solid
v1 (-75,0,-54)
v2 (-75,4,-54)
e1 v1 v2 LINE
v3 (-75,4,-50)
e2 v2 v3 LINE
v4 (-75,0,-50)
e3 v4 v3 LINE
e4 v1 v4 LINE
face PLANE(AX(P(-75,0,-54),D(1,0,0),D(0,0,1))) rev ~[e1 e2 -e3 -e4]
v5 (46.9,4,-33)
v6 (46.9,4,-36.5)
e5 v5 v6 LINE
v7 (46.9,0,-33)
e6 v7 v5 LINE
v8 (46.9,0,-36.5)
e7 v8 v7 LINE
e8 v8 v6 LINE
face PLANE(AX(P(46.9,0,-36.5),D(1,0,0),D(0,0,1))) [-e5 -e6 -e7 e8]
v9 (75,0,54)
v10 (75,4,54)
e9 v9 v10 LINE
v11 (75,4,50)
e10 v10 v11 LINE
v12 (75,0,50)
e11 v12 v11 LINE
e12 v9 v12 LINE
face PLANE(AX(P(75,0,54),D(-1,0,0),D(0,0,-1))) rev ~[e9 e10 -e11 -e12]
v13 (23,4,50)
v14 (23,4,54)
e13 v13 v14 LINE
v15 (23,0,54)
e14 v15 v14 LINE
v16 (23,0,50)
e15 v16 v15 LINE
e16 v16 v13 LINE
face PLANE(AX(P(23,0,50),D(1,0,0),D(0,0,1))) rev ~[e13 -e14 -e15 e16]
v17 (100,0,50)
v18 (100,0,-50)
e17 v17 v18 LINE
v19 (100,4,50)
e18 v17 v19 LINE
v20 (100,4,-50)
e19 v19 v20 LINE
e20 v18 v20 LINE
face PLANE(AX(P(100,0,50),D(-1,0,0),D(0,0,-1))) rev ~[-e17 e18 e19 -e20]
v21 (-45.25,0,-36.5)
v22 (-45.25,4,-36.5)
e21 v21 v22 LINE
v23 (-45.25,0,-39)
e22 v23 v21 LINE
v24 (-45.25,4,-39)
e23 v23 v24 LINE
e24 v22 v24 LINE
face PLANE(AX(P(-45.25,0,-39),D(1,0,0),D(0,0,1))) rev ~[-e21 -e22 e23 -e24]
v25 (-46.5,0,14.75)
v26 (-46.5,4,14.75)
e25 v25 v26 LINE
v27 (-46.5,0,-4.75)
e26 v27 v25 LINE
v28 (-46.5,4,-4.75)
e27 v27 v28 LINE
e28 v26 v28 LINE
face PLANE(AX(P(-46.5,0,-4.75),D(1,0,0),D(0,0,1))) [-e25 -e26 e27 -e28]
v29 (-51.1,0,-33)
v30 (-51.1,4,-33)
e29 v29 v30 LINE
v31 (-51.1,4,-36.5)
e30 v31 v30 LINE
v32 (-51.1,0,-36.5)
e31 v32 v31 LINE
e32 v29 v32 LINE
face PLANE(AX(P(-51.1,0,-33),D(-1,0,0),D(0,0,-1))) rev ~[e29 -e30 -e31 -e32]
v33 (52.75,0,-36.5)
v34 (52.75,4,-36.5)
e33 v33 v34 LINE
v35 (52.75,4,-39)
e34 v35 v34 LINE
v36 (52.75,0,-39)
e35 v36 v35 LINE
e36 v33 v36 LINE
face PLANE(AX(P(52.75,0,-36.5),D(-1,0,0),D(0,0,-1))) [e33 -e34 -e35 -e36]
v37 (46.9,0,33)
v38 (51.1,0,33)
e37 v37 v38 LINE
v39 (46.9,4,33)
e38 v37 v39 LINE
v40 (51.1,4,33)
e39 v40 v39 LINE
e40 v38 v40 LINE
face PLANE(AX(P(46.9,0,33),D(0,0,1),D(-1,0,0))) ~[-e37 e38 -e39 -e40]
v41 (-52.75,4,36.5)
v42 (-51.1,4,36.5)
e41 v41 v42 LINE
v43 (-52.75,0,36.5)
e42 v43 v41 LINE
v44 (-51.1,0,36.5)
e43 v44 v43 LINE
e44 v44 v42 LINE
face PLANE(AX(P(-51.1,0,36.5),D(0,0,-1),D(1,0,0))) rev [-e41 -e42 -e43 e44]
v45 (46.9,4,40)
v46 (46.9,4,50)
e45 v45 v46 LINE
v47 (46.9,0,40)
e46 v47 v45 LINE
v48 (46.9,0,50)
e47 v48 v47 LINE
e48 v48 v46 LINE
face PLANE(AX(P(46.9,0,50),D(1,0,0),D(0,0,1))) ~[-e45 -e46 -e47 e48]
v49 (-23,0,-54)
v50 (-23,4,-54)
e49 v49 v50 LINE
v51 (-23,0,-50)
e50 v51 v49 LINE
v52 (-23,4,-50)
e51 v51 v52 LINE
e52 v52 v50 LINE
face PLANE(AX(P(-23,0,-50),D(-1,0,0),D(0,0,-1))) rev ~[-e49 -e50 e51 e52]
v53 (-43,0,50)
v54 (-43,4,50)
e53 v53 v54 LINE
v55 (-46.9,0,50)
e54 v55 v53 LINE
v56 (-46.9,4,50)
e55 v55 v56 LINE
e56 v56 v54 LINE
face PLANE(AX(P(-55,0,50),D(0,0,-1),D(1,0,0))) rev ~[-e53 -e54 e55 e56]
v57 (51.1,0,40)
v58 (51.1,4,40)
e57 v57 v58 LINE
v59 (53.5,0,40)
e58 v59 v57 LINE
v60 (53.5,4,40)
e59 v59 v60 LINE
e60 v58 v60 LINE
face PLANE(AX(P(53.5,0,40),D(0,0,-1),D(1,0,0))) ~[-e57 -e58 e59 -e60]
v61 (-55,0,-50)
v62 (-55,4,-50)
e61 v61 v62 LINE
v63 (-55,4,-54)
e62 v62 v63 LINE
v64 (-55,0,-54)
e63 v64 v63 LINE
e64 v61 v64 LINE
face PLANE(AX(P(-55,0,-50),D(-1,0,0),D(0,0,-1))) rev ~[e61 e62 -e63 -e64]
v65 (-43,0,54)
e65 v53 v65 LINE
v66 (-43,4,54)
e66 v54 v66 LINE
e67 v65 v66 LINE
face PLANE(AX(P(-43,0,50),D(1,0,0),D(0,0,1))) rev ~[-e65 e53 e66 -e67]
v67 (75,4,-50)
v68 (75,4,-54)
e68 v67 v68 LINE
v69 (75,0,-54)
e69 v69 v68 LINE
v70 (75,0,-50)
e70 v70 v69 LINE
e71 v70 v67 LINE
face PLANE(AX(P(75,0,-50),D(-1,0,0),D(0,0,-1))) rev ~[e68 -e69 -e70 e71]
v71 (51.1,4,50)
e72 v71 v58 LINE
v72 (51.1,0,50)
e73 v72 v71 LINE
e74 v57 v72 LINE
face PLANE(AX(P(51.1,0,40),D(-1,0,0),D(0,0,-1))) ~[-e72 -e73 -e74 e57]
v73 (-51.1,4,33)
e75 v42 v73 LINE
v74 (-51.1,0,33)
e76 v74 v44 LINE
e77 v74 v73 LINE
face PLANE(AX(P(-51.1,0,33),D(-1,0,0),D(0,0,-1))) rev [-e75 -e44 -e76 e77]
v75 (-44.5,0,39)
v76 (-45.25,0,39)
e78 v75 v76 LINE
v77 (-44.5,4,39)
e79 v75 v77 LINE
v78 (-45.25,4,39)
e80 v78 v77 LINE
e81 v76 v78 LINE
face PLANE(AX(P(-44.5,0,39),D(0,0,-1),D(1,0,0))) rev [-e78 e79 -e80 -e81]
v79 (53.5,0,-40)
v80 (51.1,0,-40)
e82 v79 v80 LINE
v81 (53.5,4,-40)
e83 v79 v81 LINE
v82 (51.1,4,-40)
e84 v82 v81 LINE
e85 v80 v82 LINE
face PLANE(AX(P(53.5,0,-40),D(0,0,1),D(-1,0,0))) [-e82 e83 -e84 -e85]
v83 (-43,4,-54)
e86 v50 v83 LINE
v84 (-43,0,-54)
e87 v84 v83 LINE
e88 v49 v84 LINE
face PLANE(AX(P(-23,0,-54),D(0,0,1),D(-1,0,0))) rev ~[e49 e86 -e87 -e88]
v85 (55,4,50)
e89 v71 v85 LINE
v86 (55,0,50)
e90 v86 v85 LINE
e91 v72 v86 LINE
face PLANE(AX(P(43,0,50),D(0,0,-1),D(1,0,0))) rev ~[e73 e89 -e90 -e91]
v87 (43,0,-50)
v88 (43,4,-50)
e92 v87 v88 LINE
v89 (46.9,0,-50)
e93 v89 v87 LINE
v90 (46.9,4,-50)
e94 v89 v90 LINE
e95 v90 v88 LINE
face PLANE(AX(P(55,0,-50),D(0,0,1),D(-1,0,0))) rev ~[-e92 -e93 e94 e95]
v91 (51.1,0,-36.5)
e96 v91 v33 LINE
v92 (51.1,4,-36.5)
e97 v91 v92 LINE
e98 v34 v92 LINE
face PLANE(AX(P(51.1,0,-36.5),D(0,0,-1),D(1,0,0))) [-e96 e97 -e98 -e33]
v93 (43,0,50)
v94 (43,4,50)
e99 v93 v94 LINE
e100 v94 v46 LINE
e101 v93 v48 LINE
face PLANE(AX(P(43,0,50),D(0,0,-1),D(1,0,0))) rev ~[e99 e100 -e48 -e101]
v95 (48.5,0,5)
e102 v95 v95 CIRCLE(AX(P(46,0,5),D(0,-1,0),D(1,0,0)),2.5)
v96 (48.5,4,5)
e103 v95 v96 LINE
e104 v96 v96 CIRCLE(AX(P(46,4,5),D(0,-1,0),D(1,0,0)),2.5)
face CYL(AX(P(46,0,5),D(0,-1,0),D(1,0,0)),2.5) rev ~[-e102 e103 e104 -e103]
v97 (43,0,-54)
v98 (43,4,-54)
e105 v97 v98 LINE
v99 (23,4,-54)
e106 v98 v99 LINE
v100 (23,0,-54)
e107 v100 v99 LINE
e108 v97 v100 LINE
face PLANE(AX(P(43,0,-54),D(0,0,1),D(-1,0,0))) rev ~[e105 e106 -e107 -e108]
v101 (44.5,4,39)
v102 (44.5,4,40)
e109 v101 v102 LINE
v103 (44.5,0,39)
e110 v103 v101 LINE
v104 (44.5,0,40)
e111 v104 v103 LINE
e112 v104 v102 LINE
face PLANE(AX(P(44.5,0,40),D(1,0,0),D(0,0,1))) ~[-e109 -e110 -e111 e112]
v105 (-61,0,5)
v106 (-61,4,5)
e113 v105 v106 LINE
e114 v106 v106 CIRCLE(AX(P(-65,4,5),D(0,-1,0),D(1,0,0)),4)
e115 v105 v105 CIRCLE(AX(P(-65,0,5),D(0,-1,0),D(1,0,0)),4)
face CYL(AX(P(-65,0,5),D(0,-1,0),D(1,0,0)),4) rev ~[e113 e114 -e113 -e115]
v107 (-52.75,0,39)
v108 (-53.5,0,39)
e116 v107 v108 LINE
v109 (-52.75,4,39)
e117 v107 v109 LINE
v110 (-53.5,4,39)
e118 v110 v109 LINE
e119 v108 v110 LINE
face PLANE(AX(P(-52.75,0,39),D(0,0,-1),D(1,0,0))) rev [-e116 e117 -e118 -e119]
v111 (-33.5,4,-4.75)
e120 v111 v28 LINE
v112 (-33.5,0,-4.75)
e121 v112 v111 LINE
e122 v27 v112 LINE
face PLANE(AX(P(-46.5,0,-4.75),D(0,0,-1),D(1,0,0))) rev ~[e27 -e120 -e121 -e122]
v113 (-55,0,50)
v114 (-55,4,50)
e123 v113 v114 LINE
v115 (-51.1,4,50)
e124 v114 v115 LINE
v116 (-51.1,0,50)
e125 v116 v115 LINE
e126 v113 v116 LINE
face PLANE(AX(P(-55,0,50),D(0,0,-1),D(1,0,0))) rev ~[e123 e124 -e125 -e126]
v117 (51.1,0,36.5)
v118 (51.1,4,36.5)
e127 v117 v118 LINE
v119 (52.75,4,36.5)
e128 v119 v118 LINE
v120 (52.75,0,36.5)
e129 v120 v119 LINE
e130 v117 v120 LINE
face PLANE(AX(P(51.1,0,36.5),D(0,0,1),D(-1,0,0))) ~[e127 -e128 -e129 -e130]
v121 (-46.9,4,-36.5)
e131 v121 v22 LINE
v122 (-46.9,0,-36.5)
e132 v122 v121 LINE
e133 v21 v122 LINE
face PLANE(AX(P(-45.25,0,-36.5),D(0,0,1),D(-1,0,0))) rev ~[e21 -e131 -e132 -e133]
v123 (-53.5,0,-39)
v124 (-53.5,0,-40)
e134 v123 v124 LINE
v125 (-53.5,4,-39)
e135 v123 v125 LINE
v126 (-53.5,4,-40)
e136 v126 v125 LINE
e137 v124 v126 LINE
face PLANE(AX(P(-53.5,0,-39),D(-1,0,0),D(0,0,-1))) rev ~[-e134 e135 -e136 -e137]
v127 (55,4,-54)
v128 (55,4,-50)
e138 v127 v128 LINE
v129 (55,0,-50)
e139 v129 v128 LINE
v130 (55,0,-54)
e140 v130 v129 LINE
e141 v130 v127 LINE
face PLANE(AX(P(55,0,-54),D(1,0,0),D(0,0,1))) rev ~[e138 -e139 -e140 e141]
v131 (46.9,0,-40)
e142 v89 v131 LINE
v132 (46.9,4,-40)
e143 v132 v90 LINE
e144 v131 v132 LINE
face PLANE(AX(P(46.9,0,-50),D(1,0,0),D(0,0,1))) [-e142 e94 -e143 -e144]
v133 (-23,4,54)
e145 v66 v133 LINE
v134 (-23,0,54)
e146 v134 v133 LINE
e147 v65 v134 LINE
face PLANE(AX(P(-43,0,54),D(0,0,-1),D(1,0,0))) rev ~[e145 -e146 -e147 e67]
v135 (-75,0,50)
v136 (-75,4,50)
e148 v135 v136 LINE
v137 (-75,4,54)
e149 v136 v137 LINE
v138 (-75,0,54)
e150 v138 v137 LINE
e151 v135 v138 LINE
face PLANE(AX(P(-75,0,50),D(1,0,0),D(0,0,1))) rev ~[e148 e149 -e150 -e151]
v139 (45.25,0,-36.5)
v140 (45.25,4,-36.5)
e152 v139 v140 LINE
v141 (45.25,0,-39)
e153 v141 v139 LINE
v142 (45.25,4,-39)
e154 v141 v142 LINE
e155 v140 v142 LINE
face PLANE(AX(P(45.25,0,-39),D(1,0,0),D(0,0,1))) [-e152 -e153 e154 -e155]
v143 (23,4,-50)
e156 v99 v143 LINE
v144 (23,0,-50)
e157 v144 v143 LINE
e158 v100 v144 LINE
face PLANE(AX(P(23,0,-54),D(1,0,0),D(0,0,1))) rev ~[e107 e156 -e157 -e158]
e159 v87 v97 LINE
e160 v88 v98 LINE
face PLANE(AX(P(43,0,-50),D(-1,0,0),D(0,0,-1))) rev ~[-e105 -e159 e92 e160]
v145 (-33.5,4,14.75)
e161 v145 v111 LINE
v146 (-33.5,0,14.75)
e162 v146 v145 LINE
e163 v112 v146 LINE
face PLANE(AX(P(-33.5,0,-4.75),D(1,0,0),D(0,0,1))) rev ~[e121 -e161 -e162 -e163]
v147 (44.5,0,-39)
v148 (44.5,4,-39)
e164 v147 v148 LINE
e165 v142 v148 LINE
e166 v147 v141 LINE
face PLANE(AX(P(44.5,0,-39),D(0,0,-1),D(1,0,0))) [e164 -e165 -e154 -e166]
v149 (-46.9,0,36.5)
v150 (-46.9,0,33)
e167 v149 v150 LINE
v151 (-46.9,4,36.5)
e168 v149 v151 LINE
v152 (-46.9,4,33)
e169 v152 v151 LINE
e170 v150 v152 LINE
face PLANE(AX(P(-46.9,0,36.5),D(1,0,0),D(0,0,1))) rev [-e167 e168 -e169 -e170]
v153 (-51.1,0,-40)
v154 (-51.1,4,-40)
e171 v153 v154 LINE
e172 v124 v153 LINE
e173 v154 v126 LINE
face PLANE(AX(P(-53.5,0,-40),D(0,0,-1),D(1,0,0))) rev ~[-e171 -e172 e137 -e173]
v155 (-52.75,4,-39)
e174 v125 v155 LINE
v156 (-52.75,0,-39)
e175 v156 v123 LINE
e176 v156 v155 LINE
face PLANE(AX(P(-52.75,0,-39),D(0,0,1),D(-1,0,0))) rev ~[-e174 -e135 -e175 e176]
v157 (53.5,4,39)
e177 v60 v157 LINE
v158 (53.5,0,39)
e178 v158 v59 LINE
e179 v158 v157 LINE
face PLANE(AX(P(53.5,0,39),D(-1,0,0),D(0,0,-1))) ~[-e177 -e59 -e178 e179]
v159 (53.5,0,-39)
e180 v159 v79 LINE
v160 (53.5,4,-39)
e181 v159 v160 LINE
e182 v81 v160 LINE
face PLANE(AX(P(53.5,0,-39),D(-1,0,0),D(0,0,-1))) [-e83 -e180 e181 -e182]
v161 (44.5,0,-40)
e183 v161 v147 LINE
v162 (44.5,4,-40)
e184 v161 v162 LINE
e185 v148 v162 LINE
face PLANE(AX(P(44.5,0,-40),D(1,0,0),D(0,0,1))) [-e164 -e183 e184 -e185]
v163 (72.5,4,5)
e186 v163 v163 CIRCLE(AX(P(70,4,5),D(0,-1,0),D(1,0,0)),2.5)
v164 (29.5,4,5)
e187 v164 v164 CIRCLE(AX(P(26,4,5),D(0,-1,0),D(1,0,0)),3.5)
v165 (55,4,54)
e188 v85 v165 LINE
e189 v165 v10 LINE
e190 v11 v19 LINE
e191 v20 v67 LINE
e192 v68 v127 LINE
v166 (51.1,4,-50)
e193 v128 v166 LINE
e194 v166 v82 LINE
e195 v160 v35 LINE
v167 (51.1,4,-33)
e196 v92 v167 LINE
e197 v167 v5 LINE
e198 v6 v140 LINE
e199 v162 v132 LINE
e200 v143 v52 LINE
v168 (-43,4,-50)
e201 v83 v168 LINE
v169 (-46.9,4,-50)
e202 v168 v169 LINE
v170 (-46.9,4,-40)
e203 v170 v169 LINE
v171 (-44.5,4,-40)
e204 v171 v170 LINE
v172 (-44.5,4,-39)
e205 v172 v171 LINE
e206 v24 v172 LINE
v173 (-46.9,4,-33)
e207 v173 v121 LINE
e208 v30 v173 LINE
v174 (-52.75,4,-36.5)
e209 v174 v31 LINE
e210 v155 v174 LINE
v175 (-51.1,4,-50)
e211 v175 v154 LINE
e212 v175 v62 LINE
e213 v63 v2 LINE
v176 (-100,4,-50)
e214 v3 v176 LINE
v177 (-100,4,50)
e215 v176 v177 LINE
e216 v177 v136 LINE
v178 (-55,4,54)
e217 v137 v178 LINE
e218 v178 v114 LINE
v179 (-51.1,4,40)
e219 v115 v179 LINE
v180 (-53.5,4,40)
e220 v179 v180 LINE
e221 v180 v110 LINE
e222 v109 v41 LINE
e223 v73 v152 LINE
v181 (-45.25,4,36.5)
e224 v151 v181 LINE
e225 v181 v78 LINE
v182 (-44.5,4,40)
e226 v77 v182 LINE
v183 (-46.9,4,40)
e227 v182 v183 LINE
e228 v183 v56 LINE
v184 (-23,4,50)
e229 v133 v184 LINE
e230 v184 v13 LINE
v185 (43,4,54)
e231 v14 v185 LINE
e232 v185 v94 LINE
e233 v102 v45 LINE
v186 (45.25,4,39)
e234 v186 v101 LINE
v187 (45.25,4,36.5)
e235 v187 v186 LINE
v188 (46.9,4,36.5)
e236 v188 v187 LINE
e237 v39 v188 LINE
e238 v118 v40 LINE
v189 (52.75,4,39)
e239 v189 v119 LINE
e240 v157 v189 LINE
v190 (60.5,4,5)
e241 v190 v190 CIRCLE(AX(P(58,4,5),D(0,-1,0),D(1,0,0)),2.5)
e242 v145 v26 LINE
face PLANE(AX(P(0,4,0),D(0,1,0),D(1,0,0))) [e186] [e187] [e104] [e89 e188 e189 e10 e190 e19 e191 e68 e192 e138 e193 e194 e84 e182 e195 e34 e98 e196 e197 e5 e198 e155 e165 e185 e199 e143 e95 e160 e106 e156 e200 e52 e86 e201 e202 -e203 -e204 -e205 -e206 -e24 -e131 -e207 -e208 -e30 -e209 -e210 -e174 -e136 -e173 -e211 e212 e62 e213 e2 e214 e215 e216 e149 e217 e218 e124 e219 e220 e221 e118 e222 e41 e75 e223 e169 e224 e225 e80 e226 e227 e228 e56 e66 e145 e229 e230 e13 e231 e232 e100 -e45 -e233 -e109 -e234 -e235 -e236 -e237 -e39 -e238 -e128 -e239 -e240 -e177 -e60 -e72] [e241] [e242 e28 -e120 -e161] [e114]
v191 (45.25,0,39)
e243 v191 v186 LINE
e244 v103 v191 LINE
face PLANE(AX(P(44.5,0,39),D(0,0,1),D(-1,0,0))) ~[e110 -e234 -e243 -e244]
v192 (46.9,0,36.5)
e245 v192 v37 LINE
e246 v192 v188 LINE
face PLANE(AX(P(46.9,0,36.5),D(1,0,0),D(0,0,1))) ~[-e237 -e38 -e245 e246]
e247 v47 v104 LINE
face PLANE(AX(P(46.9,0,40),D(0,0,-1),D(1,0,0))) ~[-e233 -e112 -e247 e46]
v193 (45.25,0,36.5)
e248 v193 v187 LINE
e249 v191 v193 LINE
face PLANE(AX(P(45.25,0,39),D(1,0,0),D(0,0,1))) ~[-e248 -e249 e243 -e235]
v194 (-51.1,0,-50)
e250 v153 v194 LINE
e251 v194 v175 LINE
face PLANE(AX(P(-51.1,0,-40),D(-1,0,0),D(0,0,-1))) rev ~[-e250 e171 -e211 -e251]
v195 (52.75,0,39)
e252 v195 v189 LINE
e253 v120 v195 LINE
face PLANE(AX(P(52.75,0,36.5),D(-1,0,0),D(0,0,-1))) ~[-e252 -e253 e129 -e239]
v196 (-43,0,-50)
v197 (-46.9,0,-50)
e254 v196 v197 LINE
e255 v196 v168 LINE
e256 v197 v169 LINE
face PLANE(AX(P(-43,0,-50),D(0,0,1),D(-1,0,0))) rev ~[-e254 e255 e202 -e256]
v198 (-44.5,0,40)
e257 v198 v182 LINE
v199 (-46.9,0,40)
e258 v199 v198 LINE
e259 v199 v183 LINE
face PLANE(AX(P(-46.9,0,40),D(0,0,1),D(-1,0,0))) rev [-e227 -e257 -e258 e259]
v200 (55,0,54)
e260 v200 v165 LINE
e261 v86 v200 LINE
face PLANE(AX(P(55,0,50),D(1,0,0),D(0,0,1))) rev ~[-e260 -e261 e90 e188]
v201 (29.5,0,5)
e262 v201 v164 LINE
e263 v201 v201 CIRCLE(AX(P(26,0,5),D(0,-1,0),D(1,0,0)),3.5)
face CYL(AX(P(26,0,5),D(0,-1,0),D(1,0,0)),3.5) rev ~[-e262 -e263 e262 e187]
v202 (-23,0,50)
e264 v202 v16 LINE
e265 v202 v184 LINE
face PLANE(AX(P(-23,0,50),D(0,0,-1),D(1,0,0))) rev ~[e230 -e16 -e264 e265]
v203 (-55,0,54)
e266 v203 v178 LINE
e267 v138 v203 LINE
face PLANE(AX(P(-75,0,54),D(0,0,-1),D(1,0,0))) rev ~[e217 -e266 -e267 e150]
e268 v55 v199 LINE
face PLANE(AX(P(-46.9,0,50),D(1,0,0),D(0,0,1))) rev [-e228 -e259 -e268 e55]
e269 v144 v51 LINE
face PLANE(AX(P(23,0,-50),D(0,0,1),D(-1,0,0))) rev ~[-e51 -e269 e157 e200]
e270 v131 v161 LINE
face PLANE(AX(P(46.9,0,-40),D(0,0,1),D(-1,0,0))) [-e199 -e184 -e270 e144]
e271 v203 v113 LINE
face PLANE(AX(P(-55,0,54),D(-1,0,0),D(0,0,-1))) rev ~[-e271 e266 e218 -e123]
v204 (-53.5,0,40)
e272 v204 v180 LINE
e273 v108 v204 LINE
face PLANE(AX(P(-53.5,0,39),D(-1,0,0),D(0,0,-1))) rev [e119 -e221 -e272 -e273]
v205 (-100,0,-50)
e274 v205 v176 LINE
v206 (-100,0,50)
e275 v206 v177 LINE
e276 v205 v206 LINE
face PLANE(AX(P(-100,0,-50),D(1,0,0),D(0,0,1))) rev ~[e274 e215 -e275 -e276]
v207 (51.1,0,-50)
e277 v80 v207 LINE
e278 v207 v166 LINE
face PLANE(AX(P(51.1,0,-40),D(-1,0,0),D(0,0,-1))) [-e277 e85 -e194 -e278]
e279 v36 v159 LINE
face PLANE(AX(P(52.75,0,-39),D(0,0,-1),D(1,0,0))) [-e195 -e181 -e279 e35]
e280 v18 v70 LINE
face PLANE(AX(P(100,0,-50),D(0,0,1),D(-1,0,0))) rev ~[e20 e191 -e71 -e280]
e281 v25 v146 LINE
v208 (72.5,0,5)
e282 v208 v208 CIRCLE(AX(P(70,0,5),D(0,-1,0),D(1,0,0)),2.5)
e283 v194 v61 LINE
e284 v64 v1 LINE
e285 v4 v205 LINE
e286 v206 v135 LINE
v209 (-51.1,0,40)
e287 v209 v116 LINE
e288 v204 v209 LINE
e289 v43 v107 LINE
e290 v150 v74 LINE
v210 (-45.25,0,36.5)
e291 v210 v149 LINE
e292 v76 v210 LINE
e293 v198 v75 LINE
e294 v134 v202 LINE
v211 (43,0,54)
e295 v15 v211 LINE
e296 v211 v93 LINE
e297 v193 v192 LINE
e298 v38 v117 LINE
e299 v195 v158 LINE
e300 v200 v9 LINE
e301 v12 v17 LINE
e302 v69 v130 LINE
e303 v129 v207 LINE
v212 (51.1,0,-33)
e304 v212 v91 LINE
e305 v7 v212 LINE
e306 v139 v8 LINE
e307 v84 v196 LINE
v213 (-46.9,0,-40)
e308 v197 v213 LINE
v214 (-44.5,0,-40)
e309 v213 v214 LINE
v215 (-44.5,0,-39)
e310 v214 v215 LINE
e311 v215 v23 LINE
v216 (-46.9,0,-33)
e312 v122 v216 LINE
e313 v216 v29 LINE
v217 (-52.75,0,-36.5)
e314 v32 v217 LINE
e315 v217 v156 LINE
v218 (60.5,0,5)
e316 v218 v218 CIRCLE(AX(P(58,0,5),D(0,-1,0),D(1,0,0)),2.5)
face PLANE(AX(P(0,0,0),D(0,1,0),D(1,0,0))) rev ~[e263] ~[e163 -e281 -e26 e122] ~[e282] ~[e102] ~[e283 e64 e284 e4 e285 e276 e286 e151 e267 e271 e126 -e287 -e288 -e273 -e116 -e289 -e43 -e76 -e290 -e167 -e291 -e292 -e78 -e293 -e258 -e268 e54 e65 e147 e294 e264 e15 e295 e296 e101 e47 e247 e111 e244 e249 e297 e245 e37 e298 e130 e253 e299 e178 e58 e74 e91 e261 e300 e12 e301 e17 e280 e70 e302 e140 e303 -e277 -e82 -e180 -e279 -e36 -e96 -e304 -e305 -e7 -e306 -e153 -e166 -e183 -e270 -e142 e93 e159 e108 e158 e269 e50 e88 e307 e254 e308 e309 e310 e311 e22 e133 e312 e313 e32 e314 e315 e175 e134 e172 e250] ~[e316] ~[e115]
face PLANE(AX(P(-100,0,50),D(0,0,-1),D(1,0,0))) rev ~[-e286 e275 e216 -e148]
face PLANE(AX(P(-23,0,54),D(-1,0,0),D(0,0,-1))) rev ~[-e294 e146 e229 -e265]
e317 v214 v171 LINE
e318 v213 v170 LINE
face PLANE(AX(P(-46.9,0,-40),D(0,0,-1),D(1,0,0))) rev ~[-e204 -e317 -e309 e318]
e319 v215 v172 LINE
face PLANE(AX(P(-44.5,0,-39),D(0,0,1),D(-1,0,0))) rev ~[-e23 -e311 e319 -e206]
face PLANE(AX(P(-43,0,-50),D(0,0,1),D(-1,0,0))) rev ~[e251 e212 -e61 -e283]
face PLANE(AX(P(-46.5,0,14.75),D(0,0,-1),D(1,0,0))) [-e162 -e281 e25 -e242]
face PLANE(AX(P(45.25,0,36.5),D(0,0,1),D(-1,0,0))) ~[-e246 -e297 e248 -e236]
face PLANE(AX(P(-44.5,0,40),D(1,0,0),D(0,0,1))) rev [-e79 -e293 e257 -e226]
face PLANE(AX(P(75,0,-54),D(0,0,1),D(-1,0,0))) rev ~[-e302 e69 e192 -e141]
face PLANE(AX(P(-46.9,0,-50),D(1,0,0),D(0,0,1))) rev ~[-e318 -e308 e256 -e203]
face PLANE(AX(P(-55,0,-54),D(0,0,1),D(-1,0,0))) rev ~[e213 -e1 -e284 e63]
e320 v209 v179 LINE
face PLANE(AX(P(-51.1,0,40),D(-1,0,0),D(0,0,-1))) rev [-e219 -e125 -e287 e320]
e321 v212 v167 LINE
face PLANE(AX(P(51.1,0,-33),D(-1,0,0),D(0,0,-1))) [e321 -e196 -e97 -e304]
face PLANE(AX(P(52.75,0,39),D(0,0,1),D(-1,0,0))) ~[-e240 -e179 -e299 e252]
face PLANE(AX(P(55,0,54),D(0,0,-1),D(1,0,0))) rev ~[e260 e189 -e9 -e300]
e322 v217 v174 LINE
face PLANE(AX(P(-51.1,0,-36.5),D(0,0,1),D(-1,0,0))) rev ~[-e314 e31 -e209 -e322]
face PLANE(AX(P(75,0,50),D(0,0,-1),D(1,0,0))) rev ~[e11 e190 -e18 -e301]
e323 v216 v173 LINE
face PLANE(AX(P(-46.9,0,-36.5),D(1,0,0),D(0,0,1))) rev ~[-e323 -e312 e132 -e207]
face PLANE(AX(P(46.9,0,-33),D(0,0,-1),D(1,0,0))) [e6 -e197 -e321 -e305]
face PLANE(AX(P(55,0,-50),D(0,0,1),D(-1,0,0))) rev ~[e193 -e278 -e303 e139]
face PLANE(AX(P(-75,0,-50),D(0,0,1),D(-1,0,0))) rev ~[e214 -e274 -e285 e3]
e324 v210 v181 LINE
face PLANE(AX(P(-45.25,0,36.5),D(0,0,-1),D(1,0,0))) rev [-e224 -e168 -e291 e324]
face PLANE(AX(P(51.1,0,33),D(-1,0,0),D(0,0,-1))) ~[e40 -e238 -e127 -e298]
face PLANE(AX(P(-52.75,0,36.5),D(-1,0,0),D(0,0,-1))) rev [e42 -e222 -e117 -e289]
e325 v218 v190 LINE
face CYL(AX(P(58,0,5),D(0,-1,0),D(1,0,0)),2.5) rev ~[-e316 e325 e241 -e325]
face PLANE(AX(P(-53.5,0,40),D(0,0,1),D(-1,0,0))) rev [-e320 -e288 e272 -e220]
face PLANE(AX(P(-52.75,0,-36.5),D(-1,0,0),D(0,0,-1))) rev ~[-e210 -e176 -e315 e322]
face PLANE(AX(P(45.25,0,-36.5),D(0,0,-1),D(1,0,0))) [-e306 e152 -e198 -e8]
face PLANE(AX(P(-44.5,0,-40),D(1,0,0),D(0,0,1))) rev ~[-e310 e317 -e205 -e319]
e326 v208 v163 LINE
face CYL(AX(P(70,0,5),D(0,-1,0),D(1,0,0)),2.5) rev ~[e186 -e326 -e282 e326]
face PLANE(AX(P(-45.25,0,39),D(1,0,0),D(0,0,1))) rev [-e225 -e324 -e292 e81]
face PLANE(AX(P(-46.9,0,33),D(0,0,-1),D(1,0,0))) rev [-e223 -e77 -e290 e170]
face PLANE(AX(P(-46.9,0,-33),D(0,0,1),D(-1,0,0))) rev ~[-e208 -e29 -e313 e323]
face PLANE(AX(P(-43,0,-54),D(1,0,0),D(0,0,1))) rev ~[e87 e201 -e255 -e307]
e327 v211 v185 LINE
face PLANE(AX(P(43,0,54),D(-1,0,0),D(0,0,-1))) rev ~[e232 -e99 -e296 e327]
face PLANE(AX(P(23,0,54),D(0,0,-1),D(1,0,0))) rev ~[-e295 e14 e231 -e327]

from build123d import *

# Parameters (mm, degrees)
BOSS_EXTRUDE1_DEPTH = 4
SKETCH2_R           = 4
SKETCH2_R_2         = 3.5
SKETCH2_R_3         = 2.5
SKETCH2_W           = 13
SKETCH2_H           = 19.5
CUT_EXTRUDE1_DEPTH  = 5
CUT_EXTRUDE2_DEPTH  = 6


with BuildPart() as part:
    # Sketch1 → Boss-Extrude1 (new body)
    with BuildSketch(Plane(origin=(0, 0, 0), x_dir=(1, 0, 0), z_dir=(0, 1, 0))):
        Polygon((-55, -50), (-43, -50), (-43, -54), (-23, -54), (-23, -50), (23, -50), (23, -54), (43, -54), (43, -50), (55, -50), (55, -54), (75, -54), (75, -50), (100, -50), (100, 50), (75, 50), (75, 54), (55, 54), (55, 50), (43, 50), (43, 54), (23, 54), (23, 50), (-23, 50), (-23, 54), (-43, 54), (-43, 50), (-55, 50), (-55, 54), (-75, 54), (-75, 50), (-100, 50), (-100, -50), (-75, -50), (-75, -54), (-55, -54), align=None)
    extrude(amount=BOSS_EXTRUDE1_DEPTH)

    # Sketch2 → Cut-Extrude1 (cut, through all)
    with BuildSketch(Plane.XZ):
        with Locations((-65, 5)):
            Circle(SKETCH2_R)
        with Locations((26, 5)):
            Circle(SKETCH2_R_2)
        with Locations((46, 5)):
            Circle(SKETCH2_R_3)
        with Locations((58, 5)):
            Circle(SKETCH2_R_3)
        with Locations((70, 5)):
            Circle(SKETCH2_R_3)
        with Locations((-40, 5)):
            Rectangle(SKETCH2_W, SKETCH2_H)
    extrude(amount=-CUT_EXTRUDE1_DEPTH, mode=Mode.SUBTRACT)

    # Sketch3 → Cut-Extrude2 (cut)
    with BuildSketch(Plane.XZ):
        Polygon((-51.1, -50), (-46.9, -50), (-46.9, -40), (-44.5, -40), (-44.5, -39), (-45.25, -39), (-45.25, -36.5), (-46.9, -36.5), (-46.9, -33), (-51.1, -33), (-51.1, -36.5), (-52.75, -36.5), (-52.75, -39), (-53.5, -39), (-53.5, -40), (-51.1, -40), align=None)
        Polygon((46.9, -50), (46.9, -40), (44.5, -40), (44.5, -39), (45.25, -39), (45.25, -36.5), (46.9, -36.5), (46.9, -33), (51.1, -33), (51.1, -36.5), (52.75, -36.5), (52.75, -39), (53.5, -39), (53.5, -40), (51.1, -40), (51.1, -50), align=None)
    cut_extrude2 = extrude(amount=-CUT_EXTRUDE2_DEPTH, mode=Mode.SUBTRACT)

    # Mirror1: Cut-Extrude2 across plane
    add(cut_extrude2.mirror(Plane.XY), mode=Mode.SUBTRACT)


solid = part.part
